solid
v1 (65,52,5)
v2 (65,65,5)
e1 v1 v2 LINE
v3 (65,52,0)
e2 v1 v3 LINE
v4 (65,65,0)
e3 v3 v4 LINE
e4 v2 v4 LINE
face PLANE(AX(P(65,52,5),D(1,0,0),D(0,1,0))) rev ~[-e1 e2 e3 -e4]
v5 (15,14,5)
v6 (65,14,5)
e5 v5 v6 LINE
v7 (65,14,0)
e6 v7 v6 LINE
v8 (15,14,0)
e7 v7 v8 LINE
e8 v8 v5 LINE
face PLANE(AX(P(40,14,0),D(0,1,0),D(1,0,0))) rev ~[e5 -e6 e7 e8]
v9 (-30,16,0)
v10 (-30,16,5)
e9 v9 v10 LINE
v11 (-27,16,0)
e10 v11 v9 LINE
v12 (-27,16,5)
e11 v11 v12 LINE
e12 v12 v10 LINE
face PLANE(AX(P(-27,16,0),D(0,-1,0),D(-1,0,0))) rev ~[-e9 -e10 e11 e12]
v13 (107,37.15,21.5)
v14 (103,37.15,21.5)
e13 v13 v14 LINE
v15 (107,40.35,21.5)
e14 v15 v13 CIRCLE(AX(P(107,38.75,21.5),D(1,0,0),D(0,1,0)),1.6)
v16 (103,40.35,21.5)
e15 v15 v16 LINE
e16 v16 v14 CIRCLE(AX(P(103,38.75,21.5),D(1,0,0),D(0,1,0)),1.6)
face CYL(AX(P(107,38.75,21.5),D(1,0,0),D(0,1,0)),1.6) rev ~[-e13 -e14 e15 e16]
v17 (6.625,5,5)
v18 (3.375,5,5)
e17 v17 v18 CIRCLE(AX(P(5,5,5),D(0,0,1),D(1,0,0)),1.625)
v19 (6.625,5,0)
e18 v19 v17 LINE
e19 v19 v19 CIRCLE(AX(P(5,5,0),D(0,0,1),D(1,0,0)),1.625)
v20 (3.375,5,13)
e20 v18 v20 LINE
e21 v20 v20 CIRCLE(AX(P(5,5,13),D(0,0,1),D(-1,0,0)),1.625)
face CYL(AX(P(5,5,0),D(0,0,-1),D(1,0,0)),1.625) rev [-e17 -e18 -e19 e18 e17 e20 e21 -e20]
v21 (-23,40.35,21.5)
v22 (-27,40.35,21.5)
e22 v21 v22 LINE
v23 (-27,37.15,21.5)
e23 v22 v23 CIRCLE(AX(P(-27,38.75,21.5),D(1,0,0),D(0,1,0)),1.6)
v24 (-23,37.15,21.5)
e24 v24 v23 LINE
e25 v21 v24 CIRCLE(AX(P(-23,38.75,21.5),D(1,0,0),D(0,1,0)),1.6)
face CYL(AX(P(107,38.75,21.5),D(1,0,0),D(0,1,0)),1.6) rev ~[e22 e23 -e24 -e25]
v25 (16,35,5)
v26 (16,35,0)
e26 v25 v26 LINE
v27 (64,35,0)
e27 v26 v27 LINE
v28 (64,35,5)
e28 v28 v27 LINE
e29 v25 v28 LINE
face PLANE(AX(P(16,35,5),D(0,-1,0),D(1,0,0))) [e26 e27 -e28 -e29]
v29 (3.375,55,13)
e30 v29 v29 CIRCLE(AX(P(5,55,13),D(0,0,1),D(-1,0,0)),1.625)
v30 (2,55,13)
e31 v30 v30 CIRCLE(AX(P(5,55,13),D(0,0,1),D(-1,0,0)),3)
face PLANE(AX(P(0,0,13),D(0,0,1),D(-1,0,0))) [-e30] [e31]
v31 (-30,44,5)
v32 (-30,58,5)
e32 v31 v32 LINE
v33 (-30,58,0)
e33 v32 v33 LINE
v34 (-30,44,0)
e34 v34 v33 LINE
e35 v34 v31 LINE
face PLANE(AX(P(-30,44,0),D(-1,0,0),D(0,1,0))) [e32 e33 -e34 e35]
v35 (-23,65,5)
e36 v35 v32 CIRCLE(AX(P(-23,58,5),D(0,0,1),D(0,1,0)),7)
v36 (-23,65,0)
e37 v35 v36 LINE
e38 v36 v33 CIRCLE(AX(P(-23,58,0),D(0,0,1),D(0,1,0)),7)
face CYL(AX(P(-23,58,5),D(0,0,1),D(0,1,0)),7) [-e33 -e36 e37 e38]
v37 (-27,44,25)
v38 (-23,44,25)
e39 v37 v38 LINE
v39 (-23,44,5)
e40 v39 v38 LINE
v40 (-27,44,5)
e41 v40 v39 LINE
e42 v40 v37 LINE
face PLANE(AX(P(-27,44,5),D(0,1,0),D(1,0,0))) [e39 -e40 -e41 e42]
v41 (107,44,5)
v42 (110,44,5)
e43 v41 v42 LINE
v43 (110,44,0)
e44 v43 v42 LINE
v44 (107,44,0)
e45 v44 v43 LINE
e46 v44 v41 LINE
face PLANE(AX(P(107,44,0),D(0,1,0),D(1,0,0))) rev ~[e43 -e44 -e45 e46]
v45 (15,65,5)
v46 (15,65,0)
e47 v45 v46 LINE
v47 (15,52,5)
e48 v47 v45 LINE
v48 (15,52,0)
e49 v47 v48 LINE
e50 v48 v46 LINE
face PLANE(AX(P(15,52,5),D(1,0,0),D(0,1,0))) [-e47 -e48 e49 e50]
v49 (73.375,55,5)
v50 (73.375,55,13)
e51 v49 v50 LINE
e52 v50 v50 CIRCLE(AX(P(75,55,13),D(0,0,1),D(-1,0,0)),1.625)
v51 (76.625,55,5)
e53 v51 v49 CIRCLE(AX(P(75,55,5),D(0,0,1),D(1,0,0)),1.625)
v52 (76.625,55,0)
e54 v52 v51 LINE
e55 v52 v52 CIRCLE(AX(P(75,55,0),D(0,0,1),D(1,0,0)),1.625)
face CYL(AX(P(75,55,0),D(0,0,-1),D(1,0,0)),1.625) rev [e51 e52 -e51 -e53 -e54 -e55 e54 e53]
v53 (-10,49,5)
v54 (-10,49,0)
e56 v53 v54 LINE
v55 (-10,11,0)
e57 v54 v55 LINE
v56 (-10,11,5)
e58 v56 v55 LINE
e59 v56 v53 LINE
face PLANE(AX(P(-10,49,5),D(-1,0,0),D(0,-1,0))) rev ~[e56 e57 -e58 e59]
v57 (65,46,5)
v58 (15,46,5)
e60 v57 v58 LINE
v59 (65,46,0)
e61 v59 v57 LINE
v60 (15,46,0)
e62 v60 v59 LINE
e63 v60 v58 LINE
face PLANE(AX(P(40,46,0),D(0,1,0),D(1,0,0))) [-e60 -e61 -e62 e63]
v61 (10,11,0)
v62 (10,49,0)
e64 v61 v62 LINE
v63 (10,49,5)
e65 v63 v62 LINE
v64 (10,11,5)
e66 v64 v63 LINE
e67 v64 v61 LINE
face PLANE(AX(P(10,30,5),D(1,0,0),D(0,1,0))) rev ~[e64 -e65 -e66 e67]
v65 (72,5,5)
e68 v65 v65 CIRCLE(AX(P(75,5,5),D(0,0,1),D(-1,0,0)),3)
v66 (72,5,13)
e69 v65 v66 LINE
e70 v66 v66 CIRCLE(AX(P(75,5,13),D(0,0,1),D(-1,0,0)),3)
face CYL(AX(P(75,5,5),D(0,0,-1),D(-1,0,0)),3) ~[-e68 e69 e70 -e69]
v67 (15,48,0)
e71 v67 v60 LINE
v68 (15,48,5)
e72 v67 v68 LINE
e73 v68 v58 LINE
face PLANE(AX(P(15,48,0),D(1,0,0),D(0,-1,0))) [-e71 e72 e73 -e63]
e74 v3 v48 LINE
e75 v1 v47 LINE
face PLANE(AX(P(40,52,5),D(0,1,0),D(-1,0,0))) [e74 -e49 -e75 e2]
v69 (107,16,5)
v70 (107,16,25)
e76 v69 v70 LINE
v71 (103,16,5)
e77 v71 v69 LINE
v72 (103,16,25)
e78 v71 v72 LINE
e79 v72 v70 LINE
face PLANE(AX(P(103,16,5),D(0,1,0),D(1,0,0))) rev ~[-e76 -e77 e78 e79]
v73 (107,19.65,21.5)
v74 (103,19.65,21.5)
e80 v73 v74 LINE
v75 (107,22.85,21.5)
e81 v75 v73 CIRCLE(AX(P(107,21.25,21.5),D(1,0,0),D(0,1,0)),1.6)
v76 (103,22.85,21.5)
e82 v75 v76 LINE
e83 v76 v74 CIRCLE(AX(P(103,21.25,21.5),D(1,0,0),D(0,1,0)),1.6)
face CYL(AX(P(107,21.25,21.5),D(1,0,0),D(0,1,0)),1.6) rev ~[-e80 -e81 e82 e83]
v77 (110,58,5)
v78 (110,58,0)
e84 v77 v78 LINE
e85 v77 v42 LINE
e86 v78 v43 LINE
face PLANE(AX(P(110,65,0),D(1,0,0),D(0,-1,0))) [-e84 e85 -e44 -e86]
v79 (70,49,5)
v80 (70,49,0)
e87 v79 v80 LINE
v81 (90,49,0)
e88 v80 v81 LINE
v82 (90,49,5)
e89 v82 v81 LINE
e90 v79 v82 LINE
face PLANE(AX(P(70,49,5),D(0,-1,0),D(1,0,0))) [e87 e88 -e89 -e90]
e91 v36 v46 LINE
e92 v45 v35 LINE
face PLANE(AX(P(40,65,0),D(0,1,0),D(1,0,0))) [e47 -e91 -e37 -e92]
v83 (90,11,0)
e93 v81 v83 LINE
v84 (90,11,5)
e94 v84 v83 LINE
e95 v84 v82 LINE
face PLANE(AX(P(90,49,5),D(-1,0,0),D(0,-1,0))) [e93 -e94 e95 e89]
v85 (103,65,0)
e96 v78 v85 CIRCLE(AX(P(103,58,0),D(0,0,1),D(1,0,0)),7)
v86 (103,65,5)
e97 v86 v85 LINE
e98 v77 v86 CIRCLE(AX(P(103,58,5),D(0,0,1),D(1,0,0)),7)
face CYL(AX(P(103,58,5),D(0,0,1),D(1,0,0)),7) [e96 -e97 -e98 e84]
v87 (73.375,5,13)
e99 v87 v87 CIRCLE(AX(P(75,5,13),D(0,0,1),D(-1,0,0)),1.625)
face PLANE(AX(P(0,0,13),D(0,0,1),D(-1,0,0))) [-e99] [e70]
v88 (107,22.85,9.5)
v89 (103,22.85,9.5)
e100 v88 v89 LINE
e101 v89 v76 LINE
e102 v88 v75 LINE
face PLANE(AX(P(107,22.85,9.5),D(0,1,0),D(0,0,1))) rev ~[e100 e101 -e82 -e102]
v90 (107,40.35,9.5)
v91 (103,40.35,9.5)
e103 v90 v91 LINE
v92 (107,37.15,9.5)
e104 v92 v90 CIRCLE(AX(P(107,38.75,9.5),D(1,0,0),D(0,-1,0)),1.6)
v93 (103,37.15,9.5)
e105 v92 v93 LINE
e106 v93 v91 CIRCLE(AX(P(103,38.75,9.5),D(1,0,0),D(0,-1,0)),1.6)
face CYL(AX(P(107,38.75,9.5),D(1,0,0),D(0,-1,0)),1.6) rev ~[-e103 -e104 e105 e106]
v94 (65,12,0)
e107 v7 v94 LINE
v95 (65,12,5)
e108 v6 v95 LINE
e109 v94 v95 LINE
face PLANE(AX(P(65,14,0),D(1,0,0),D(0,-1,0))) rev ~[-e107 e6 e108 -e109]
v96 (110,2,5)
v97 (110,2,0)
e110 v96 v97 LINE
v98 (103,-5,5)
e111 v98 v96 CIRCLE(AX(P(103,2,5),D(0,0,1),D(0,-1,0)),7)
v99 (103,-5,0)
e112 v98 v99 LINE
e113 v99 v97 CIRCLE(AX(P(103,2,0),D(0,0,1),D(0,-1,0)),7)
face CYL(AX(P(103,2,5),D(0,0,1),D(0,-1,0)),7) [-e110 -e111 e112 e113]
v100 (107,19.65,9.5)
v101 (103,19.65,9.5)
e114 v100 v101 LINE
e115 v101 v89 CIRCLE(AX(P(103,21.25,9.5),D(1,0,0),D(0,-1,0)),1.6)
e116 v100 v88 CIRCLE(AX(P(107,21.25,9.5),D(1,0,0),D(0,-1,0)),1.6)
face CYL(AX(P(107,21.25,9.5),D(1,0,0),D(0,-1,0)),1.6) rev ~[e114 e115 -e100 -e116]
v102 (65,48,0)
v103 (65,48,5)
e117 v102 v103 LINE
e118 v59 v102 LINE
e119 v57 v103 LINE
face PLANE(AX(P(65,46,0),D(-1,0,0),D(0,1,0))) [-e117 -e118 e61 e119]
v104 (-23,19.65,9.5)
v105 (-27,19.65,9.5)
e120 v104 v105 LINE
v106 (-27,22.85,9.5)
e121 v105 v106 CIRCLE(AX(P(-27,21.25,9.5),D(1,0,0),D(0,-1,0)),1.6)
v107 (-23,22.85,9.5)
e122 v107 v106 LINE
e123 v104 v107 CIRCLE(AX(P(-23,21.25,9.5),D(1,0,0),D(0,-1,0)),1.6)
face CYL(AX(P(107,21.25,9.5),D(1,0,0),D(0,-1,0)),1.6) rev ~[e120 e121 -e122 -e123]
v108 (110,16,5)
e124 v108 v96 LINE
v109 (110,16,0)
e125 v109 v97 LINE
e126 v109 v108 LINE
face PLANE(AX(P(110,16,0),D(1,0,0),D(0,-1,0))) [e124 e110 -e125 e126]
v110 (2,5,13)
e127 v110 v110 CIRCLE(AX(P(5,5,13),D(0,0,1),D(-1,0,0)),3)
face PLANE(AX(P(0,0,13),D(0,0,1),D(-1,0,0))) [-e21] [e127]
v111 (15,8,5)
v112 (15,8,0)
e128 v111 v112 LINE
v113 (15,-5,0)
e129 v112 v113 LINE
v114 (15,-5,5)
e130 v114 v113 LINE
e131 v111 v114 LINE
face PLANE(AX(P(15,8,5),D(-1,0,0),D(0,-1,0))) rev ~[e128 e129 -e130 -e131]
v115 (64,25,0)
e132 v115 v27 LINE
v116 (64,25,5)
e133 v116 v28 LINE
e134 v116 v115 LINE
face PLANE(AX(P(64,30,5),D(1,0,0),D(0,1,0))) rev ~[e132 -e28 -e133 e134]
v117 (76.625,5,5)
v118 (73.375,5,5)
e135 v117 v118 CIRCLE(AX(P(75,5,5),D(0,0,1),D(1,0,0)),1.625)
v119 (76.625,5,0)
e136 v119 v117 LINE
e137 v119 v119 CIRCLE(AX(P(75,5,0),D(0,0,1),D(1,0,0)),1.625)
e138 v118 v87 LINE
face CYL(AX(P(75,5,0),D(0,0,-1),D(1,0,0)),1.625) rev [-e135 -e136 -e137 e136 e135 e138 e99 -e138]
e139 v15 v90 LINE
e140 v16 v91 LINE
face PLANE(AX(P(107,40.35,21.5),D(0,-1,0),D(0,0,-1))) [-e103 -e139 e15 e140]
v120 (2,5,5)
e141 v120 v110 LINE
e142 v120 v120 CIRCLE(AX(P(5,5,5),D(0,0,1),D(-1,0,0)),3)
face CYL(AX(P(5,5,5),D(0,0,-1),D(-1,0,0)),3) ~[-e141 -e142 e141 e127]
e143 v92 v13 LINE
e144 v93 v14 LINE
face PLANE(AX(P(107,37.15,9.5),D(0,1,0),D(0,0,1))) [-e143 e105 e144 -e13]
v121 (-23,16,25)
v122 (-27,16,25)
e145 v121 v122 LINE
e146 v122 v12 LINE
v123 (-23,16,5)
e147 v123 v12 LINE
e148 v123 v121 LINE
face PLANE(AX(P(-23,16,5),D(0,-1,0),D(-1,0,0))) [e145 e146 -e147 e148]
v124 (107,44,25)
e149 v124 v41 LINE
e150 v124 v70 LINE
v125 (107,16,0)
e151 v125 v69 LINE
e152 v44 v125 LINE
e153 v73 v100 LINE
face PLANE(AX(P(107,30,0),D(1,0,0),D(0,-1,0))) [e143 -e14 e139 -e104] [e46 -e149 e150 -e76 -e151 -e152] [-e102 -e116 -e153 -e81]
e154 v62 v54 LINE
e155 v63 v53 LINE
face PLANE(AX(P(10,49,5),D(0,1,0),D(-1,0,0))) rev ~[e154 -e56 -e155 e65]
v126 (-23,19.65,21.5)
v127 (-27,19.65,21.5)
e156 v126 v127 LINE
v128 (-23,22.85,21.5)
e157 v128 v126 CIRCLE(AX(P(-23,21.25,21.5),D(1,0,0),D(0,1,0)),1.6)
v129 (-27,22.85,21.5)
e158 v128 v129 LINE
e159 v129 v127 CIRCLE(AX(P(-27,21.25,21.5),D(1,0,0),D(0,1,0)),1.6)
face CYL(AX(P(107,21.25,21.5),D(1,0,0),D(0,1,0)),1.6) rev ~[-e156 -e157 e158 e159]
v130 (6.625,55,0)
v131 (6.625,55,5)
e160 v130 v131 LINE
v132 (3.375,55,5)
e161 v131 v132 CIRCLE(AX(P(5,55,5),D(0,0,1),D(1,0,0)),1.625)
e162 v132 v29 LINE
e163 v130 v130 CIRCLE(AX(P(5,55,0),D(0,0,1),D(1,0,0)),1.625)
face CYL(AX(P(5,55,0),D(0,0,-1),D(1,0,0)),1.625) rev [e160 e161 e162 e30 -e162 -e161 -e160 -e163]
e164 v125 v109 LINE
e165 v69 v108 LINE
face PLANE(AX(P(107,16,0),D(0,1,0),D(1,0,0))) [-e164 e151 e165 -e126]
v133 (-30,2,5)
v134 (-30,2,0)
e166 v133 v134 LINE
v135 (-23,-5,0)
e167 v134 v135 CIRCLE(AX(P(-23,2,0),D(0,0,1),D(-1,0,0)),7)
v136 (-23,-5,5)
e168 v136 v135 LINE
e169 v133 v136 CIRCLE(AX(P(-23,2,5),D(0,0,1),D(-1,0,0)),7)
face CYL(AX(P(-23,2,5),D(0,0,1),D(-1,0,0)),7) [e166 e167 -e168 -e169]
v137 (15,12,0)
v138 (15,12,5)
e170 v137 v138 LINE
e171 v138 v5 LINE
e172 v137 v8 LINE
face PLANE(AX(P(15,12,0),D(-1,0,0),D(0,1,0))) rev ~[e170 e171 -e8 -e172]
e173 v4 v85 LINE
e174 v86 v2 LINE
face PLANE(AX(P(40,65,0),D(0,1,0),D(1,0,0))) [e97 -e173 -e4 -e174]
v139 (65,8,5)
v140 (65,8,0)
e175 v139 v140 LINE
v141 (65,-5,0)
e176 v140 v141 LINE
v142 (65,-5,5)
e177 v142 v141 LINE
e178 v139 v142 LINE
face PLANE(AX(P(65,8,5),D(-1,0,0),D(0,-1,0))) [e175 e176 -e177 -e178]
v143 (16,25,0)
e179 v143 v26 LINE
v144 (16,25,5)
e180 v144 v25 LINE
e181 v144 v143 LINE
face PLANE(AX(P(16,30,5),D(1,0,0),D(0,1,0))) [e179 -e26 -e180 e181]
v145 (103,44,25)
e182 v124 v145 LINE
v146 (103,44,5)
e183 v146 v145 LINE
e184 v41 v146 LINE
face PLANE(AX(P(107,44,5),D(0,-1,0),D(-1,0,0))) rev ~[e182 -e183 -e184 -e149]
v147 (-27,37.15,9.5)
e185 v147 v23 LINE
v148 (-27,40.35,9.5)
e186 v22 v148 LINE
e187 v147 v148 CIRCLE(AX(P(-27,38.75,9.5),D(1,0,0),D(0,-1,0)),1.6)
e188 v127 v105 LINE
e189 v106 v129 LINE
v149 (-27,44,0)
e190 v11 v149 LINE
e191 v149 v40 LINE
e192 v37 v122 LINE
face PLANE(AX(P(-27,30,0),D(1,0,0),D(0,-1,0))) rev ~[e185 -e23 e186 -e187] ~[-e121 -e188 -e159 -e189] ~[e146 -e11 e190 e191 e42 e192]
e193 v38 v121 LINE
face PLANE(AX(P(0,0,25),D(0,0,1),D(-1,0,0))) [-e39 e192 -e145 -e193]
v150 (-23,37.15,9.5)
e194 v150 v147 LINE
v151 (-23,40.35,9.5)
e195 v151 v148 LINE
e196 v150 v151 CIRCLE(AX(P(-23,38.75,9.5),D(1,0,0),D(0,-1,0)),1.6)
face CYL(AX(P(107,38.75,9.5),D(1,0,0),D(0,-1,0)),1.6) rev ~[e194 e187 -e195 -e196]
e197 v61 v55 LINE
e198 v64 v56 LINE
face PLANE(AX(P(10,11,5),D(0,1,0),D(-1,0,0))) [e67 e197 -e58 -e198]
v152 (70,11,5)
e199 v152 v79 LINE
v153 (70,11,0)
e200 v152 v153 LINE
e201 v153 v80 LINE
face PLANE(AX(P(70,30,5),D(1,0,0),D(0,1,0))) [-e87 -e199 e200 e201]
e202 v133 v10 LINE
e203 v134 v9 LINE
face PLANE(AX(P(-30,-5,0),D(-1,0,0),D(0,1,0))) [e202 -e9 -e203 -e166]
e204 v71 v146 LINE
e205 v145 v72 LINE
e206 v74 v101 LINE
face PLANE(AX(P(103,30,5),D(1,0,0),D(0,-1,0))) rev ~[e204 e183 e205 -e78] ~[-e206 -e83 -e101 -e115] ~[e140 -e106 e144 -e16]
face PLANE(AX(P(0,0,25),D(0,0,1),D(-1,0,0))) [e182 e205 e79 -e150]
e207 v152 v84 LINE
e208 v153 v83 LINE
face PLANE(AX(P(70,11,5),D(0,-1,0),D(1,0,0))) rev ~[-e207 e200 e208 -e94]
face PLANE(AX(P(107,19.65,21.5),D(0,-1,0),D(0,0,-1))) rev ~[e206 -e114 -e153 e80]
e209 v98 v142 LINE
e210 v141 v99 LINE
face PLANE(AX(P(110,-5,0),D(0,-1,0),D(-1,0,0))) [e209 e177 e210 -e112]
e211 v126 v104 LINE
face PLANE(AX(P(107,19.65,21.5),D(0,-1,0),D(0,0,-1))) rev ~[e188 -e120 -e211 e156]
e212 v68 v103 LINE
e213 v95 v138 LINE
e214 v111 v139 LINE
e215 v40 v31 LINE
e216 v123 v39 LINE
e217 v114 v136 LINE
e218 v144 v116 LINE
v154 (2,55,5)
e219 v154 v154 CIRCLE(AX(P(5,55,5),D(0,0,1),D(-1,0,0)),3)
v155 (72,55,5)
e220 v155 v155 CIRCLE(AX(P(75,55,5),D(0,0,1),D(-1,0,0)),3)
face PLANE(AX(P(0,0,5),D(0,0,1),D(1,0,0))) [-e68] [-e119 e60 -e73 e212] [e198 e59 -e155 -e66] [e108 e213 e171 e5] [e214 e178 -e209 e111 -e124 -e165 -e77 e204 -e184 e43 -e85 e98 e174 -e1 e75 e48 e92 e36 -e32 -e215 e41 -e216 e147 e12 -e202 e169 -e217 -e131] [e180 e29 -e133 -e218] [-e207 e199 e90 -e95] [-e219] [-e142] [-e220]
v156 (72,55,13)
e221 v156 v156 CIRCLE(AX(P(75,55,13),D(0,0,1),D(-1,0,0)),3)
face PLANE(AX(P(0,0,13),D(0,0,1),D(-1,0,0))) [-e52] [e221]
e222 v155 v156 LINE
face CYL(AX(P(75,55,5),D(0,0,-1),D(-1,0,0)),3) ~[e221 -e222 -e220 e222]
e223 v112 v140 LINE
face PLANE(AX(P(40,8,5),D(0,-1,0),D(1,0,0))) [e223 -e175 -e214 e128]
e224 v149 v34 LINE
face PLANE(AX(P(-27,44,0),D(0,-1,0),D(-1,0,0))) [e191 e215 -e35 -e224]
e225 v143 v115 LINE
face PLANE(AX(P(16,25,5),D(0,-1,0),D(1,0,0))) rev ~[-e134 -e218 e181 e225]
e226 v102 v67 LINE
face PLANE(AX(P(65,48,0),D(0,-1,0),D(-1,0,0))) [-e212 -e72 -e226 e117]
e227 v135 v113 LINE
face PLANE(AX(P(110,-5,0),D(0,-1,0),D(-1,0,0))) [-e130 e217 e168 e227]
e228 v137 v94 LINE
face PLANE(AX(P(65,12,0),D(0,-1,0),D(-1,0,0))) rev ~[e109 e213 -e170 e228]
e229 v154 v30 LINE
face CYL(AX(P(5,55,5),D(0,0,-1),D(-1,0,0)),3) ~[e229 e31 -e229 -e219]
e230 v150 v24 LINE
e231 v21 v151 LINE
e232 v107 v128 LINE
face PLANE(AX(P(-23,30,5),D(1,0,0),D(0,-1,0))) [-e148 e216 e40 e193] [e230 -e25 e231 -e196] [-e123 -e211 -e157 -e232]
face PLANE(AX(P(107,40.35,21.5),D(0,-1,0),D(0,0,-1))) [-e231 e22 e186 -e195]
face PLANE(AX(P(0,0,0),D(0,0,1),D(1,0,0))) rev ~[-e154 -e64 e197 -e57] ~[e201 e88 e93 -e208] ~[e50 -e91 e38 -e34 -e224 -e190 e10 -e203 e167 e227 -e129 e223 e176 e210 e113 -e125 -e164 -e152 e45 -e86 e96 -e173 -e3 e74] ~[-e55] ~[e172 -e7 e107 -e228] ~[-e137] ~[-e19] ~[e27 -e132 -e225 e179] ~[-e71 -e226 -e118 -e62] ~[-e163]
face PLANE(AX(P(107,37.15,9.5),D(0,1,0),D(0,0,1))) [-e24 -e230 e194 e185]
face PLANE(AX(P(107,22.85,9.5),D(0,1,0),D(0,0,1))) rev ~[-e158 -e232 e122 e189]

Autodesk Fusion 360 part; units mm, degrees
sketch "Boceto1" plane through (0, 0, 0) normal (0, 0, 1) x (1, 0, 0)
  line L0 (0, 0) -> (80, 0) construction
  line L1 (80, 0) -> (80, 60) construction
  line L2 (80, 60) -> (0, 60) construction
  line L3 (0, 60) -> (0, 0) construction
  circle A0 centre (5, 55) radius 1.625
  circle A1 centre (75, 55) radius 1.625
  line L4 (110, -5) -> (-30, -5)
  line L5 (-30, -5) -> (-30, 65)
  line L6 (-30, 65) -> (110, 65)
  line L7 (110, 65) -> (110, -5)
  line L8 (15, 46) -> (65, 46)
  line L9 (65, 46) -> (65, 48)
  line L10 (65, 48) -> (15, 48)
  line L11 (15, 48) -> (15, 46)
  line L12 (-30, 30) -> (115, 30)
  line L13 (110, 30) -> (107, 30)
  line L14 (107, 30) -> (107, 44)
  line L15 (107, 44) -> (110, 44)
  line L16 (110, 44) -> (110, 30)
  line L17 (110, 16) -> (110, 30)
  line L18 (110, 30) -> (107, 30)
  line L19 (107, 16) -> (110, 16)
  line L20 (107, 30) -> (107, 16)
  line L21 (40, 65) -> (40, -5)
  circle A2 centre (5, 5) radius 1.625
  circle A3 centre (75, 5) radius 1.625
  line L22 (-30, 44) -> (-30, 30)
  line L23 (-30, 30) -> (-27, 30)
  line L24 (-27, 30) -> (-27, 44)
  line L25 (-27, 44) -> (-30, 44)
  line L26 (-30, 16) -> (-30, 30)
  line L27 (-30, 30) -> (-27, 30)
  line L28 (-27, 16) -> (-30, 16)
  line L29 (-27, 30) -> (-27, 16)
  line L30 (65, 12) -> (15, 12)
  line L31 (15, 12) -> (15, 14)
  line L32 (15, 14) -> (65, 14)
  line L33 (65, 14) -> (65, 12)
  dimension "d1" = 80
  dimension "d2" = 60
  dimension "d3" = 5
  dimension "d4" = 70
  dimension "d8" = 3.25
  dimension "d16" = 70
  dimension "d17" = 140
  dimension "d19" = 30
  dimension "d20" = 5
  dimension "d29" = 7
  dimension "d31" = 2
  dimension "d34" = 50
  dimension "d37" = 14
  dimension "d38" = 3
  dimension "d39" = 5
extrude "Extruir1" add sketch "Boceto1" along normal blind 5 contours L4 L7 L12 L19 L20 L21 L30 L32 L33 | L4 L5 L12 L21 L28 L29 L30 L31 L32 | L6 L7 L8 L9 L10 L12 L14 L15 L21 | L5 L6 L8 L10 L11 L12 L21 L24 L25
sketch "Boceto4" plane through (0, 0, 5) normal (0, 0, 1) x (-1, 0, 0)
  line L0 (-15, -14) -> (-65, -14)
  line L1 (-65, -14) -> (-65, -12)
  line L2 (-65, -12) -> (-15, -12)
  line L3 (-15, -12) -> (-15, -14)
  circle A0 centre (-5, -5) radius 1.625
  circle A1 centre (-75, -55) radius 1.625
  circle A2 centre (-75, -5) radius 1.625
  circle A3 centre (-5, -55) radius 1.625
  line L4 (-15, -46) -> (-15, -48)
  line L5 (-15, -48) -> (-65, -48)
  line L6 (-65, -48) -> (-65, -46)
  line L7 (-65, -46) -> (-15, -46)
  line L8 (27, -44) -> (27, -16)
  line L9 (27, -16) -> (30, -16)
  line L10 (30, -16) -> (30, 5)
  line L11 (30, 5) -> (-110, 5)
  line L12 (-110, 5) -> (-110, -16)
  line L13 (-110, -16) -> (-107, -16)
  line L14 (-107, -16) -> (-107, -44)
  line L15 (-107, -44) -> (-110, -44)
  line L16 (-110, -44) -> (-110, -65)
  line L17 (-110, -65) -> (30, -65)
  line L18 (30, -65) -> (30, -44)
  line L19 (30, -44) -> (27, -44)
  line L20 (-107, -44) -> (-103, -44)
  line L21 (-103, -44) -> (-103, -16)
  line L22 (-103, -16) -> (-107, -16)
  line L23 (-107, -16) -> (-107, -44)
  line L24 (-40, -65) -> (-40, 5)
  line L25 (27, -30) -> (-107, -30)
  line L26 (27, -16) -> (27, -44)
  line L27 (27, -44) -> (23, -44)
  line L28 (23, -44) -> (23, -16)
  line L29 (23, -16) -> (27, -16)
  circle A4 centre (-5, -55) radius 3
  circle A5 centre (-75, -55) radius 3
  circle A6 centre (-5, -5) radius 3
  circle A7 centre (-75, -5) radius 3
  dimension "d42" = 4
  dimension "d58" = 6
extrude "Extruir3" add sketch "Boceto4" along normal blind 20 contours L8 L25 L26 L28 L29 | L8 L25 L26 L27 L28 | L14 L21 L22 L23 L25 | L14 L20 L21 L23 L25
extrude "Extruir2" add sketch "Boceto4" along normal blind 10 contours L8 L25 L26 L28 L29 | L8 L25 L26 L27 L28 | L14 L21 L22 L23 L25 | L14 L20 L21 L23 L25
sketch "Boceto5" plane through (107, 0, 0) normal (1, 0, 0) x (0, 1, 0)
  line L0 (16, 0) -> (44, 0)
  line L1 (44, 0) -> (44, 5)
  line L2 (44, 5) -> (44, 25)
  line L3 (16, 25) -> (16, 5)
  line L4 (16, 5) -> (16, 0)
  line L5 (30, 25) -> (30, 0)
  line L6 (44, 25) -> (16, 25)
  line L7 (19.65, 21.5) -> (19.65, 9.5)
  arc A0 (19.65, 9.5) -> (22.85, 9.5) centre (21.25, 9.5) ccw
  line L8 (22.85, 9.5) -> (22.85, 21.5)
  arc A1 (22.85, 21.5) -> (19.65, 21.5) centre (21.25, 21.5) ccw
  line L9 (21.25, 21.5) -> (21.25, 9.5) construction
  arc A2 (37.15, 9.5) -> (40.35, 9.5) centre (38.75, 9.5) ccw
  line L10 (37.15, 9.5) -> (37.15, 21.5)
  arc A3 (40.35, 21.5) -> (37.15, 21.5) centre (38.75, 21.5) ccw
  line L11 (40.35, 21.5) -> (40.35, 9.5)
  dimension "d52" = 3.2
  dimension "d53" = 12
  dimension "d54" = 8.75
  dimension "d55" = 3.5
sketch "Boceto2" plane through (0, 0, 0) normal (0, 0, 1) x (1, 0, 0)
sketch "Boceto3" plane through (0, 0, 0) normal (0, 0, 1) x (1, 0, 0)
  point P0 (5, 55)
extrude "Extruir4" cut sketch "Boceto5" against normal blind 155 contours L7 A0 L8 A1 | A2 L10 A3 L11
extrude "Extruir5" add sketch "Boceto4" along normal blind 8 contours A4 | A5 | A6 | A7
sketch "Boceto6" plane through (0, 0, 5) normal (0, 0, 1) x (-1, 0, 0)
  line L0 (10, -30) -> (-10, -30)
  line L1 (-10, -30) -> (-10, -49)
  line L2 (-10, -49) -> (10, -49)
  line L3 (10, -49) -> (10, -30)
  line L4 (-15, -65) -> (-40, -65)
  line L5 (-40, -65) -> (-40, -52)
  line L6 (-40, -52) -> (-15, -52)
  line L7 (-15, -52) -> (-15, -65)
  line L8 (-40, -65) -> (-40, 5)
  line L9 (-90, -49) -> (-90, -30)
  line L10 (-90, -30) -> (-70, -30)
  line L11 (-70, -30) -> (-70, -49)
  line L12 (-70, -49) -> (-90, -49)
  line L13 (27, -30) -> (-107, -30)
  line L14 (-10, -30) -> (-10, -11)
  line L15 (-10, -11) -> (10, -11)
  line L16 (10, -11) -> (10, -30)
  line L17 (10, -30) -> (-10, -30)
  line L18 (-70, -30) -> (-70, -11)
  line L19 (-70, -11) -> (-90, -11)
  line L20 (-90, -11) -> (-90, -30)
  line L21 (-90, -30) -> (-70, -30)
  line L22 (-65, -65) -> (-40, -65)
  line L23 (-40, -65) -> (-40, -52)
  line L24 (-40, -52) -> (-65, -52)
  line L25 (-65, -52) -> (-65, -65)
  line L26 (-15, 5) -> (-40, 5)
  line L27 (-40, 5) -> (-40, -8)
  line L28 (-40, -8) -> (-15, -8)
  line L29 (-15, -8) -> (-15, 5)
  line L30 (-40, -8) -> (-65, -8)
  line L31 (-65, -8) -> (-65, 5)
  line L32 (-65, 5) -> (-40, 5)
  line L33 (-40, 5) -> (-40, -8)
  line L34 (-40, -30) -> (-16, -30)
  line L35 (-16, -30) -> (-16, -35)
  line L36 (-16, -35) -> (-40, -35)
  line L37 (-40, -35) -> (-40, -30)
  line L38 (-40, -30) -> (-64, -30)
  line L39 (-64, -30) -> (-64, -35)
  line L40 (-40, -35) -> (-40, -30)
  line L41 (-64, -35) -> (-40, -35)
  line L42 (-40, -30) -> (-16, -30)
  line L43 (-16, -30) -> (-16, -25)
  line L44 (-16, -25) -> (-40, -25)
  line L45 (-40, -25) -> (-40, -30)
  line L46 (-40, -30) -> (-64, -30)
  line L47 (-64, -30) -> (-64, -25)
  line L48 (-64, -25) -> (-40, -25)
  line L49 (-40, -25) -> (-40, -30)
  arc A0 (-103, 5) -> (-110, -2) centre (-103, -2) ccw
  line L50 (-103, 5) -> (-110, 5)
  line L51 (-110, 5) -> (-110, -2)
  line L52 (30, 5) -> (30, -2)
  line L53 (23, 5) -> (30, 5)
  arc A1 (30, -2) -> (23, 5) centre (23, -2) ccw
  line L54 (-110, -65) -> (-110, -58)
  line L55 (-103, -65) -> (-110, -65)
  arc A2 (-110, -58) -> (-103, -65) centre (-103, -58) ccw
  line L56 (30, -65) -> (30, -58)
  arc A3 (23, -65) -> (30, -58) centre (23, -58) ccw
  line L57 (23, -65) -> (30, -65)
  point P0 (-5, -55)
  point P1 (-75, -5)
  point P2 (-110, 5)
  dimension "d61" = 15
  dimension "d62" = 6
  dimension "d63" = 19
  dimension "d64" = 20
  dimension "d65" = 25
  dimension "d66" = 13
  dimension "d67" = 24
  dimension "d68" = 5
  dimension "d72" = 7
  dimension "d73" = 3
extrude "Extruir6" cut sketch "Boceto6" against normal blind 25 contours L0 L1 L2 L3 L13 L17 | L4 L5 L6 L7 L8 L23 | L5 L8 L22 L23 L24 L25 | L9 L10 L11 L12 L13 L21 | L10 L13 L18 L19 L20 L21 | L8 L27 L30 L31 L32 L33 | L8 L26 L27 L28 L29 L33 | L8 L13 L34 L35 L36 L37 L40 L42 | L8 L13 L34 L42 L43 L44 L45 L49 | L0 L13 L14 L15 L16 L17 | L8 L13 L38 L45 L46 L47 L48 L49 | L8 L13 L37 L38 L39 L40 L41 L46
extrude "Extruir7" cut sketch "Boceto6" against normal blind 15 contours A0 L50 L51 | L52 L53 A1 | L54 L55 A2 | L56 A3 L57
equation "d37 = ( 28 / 2 ) * 1 mm"
equation "d54 = ( 17.5 / 2 ) * 1 mm"
